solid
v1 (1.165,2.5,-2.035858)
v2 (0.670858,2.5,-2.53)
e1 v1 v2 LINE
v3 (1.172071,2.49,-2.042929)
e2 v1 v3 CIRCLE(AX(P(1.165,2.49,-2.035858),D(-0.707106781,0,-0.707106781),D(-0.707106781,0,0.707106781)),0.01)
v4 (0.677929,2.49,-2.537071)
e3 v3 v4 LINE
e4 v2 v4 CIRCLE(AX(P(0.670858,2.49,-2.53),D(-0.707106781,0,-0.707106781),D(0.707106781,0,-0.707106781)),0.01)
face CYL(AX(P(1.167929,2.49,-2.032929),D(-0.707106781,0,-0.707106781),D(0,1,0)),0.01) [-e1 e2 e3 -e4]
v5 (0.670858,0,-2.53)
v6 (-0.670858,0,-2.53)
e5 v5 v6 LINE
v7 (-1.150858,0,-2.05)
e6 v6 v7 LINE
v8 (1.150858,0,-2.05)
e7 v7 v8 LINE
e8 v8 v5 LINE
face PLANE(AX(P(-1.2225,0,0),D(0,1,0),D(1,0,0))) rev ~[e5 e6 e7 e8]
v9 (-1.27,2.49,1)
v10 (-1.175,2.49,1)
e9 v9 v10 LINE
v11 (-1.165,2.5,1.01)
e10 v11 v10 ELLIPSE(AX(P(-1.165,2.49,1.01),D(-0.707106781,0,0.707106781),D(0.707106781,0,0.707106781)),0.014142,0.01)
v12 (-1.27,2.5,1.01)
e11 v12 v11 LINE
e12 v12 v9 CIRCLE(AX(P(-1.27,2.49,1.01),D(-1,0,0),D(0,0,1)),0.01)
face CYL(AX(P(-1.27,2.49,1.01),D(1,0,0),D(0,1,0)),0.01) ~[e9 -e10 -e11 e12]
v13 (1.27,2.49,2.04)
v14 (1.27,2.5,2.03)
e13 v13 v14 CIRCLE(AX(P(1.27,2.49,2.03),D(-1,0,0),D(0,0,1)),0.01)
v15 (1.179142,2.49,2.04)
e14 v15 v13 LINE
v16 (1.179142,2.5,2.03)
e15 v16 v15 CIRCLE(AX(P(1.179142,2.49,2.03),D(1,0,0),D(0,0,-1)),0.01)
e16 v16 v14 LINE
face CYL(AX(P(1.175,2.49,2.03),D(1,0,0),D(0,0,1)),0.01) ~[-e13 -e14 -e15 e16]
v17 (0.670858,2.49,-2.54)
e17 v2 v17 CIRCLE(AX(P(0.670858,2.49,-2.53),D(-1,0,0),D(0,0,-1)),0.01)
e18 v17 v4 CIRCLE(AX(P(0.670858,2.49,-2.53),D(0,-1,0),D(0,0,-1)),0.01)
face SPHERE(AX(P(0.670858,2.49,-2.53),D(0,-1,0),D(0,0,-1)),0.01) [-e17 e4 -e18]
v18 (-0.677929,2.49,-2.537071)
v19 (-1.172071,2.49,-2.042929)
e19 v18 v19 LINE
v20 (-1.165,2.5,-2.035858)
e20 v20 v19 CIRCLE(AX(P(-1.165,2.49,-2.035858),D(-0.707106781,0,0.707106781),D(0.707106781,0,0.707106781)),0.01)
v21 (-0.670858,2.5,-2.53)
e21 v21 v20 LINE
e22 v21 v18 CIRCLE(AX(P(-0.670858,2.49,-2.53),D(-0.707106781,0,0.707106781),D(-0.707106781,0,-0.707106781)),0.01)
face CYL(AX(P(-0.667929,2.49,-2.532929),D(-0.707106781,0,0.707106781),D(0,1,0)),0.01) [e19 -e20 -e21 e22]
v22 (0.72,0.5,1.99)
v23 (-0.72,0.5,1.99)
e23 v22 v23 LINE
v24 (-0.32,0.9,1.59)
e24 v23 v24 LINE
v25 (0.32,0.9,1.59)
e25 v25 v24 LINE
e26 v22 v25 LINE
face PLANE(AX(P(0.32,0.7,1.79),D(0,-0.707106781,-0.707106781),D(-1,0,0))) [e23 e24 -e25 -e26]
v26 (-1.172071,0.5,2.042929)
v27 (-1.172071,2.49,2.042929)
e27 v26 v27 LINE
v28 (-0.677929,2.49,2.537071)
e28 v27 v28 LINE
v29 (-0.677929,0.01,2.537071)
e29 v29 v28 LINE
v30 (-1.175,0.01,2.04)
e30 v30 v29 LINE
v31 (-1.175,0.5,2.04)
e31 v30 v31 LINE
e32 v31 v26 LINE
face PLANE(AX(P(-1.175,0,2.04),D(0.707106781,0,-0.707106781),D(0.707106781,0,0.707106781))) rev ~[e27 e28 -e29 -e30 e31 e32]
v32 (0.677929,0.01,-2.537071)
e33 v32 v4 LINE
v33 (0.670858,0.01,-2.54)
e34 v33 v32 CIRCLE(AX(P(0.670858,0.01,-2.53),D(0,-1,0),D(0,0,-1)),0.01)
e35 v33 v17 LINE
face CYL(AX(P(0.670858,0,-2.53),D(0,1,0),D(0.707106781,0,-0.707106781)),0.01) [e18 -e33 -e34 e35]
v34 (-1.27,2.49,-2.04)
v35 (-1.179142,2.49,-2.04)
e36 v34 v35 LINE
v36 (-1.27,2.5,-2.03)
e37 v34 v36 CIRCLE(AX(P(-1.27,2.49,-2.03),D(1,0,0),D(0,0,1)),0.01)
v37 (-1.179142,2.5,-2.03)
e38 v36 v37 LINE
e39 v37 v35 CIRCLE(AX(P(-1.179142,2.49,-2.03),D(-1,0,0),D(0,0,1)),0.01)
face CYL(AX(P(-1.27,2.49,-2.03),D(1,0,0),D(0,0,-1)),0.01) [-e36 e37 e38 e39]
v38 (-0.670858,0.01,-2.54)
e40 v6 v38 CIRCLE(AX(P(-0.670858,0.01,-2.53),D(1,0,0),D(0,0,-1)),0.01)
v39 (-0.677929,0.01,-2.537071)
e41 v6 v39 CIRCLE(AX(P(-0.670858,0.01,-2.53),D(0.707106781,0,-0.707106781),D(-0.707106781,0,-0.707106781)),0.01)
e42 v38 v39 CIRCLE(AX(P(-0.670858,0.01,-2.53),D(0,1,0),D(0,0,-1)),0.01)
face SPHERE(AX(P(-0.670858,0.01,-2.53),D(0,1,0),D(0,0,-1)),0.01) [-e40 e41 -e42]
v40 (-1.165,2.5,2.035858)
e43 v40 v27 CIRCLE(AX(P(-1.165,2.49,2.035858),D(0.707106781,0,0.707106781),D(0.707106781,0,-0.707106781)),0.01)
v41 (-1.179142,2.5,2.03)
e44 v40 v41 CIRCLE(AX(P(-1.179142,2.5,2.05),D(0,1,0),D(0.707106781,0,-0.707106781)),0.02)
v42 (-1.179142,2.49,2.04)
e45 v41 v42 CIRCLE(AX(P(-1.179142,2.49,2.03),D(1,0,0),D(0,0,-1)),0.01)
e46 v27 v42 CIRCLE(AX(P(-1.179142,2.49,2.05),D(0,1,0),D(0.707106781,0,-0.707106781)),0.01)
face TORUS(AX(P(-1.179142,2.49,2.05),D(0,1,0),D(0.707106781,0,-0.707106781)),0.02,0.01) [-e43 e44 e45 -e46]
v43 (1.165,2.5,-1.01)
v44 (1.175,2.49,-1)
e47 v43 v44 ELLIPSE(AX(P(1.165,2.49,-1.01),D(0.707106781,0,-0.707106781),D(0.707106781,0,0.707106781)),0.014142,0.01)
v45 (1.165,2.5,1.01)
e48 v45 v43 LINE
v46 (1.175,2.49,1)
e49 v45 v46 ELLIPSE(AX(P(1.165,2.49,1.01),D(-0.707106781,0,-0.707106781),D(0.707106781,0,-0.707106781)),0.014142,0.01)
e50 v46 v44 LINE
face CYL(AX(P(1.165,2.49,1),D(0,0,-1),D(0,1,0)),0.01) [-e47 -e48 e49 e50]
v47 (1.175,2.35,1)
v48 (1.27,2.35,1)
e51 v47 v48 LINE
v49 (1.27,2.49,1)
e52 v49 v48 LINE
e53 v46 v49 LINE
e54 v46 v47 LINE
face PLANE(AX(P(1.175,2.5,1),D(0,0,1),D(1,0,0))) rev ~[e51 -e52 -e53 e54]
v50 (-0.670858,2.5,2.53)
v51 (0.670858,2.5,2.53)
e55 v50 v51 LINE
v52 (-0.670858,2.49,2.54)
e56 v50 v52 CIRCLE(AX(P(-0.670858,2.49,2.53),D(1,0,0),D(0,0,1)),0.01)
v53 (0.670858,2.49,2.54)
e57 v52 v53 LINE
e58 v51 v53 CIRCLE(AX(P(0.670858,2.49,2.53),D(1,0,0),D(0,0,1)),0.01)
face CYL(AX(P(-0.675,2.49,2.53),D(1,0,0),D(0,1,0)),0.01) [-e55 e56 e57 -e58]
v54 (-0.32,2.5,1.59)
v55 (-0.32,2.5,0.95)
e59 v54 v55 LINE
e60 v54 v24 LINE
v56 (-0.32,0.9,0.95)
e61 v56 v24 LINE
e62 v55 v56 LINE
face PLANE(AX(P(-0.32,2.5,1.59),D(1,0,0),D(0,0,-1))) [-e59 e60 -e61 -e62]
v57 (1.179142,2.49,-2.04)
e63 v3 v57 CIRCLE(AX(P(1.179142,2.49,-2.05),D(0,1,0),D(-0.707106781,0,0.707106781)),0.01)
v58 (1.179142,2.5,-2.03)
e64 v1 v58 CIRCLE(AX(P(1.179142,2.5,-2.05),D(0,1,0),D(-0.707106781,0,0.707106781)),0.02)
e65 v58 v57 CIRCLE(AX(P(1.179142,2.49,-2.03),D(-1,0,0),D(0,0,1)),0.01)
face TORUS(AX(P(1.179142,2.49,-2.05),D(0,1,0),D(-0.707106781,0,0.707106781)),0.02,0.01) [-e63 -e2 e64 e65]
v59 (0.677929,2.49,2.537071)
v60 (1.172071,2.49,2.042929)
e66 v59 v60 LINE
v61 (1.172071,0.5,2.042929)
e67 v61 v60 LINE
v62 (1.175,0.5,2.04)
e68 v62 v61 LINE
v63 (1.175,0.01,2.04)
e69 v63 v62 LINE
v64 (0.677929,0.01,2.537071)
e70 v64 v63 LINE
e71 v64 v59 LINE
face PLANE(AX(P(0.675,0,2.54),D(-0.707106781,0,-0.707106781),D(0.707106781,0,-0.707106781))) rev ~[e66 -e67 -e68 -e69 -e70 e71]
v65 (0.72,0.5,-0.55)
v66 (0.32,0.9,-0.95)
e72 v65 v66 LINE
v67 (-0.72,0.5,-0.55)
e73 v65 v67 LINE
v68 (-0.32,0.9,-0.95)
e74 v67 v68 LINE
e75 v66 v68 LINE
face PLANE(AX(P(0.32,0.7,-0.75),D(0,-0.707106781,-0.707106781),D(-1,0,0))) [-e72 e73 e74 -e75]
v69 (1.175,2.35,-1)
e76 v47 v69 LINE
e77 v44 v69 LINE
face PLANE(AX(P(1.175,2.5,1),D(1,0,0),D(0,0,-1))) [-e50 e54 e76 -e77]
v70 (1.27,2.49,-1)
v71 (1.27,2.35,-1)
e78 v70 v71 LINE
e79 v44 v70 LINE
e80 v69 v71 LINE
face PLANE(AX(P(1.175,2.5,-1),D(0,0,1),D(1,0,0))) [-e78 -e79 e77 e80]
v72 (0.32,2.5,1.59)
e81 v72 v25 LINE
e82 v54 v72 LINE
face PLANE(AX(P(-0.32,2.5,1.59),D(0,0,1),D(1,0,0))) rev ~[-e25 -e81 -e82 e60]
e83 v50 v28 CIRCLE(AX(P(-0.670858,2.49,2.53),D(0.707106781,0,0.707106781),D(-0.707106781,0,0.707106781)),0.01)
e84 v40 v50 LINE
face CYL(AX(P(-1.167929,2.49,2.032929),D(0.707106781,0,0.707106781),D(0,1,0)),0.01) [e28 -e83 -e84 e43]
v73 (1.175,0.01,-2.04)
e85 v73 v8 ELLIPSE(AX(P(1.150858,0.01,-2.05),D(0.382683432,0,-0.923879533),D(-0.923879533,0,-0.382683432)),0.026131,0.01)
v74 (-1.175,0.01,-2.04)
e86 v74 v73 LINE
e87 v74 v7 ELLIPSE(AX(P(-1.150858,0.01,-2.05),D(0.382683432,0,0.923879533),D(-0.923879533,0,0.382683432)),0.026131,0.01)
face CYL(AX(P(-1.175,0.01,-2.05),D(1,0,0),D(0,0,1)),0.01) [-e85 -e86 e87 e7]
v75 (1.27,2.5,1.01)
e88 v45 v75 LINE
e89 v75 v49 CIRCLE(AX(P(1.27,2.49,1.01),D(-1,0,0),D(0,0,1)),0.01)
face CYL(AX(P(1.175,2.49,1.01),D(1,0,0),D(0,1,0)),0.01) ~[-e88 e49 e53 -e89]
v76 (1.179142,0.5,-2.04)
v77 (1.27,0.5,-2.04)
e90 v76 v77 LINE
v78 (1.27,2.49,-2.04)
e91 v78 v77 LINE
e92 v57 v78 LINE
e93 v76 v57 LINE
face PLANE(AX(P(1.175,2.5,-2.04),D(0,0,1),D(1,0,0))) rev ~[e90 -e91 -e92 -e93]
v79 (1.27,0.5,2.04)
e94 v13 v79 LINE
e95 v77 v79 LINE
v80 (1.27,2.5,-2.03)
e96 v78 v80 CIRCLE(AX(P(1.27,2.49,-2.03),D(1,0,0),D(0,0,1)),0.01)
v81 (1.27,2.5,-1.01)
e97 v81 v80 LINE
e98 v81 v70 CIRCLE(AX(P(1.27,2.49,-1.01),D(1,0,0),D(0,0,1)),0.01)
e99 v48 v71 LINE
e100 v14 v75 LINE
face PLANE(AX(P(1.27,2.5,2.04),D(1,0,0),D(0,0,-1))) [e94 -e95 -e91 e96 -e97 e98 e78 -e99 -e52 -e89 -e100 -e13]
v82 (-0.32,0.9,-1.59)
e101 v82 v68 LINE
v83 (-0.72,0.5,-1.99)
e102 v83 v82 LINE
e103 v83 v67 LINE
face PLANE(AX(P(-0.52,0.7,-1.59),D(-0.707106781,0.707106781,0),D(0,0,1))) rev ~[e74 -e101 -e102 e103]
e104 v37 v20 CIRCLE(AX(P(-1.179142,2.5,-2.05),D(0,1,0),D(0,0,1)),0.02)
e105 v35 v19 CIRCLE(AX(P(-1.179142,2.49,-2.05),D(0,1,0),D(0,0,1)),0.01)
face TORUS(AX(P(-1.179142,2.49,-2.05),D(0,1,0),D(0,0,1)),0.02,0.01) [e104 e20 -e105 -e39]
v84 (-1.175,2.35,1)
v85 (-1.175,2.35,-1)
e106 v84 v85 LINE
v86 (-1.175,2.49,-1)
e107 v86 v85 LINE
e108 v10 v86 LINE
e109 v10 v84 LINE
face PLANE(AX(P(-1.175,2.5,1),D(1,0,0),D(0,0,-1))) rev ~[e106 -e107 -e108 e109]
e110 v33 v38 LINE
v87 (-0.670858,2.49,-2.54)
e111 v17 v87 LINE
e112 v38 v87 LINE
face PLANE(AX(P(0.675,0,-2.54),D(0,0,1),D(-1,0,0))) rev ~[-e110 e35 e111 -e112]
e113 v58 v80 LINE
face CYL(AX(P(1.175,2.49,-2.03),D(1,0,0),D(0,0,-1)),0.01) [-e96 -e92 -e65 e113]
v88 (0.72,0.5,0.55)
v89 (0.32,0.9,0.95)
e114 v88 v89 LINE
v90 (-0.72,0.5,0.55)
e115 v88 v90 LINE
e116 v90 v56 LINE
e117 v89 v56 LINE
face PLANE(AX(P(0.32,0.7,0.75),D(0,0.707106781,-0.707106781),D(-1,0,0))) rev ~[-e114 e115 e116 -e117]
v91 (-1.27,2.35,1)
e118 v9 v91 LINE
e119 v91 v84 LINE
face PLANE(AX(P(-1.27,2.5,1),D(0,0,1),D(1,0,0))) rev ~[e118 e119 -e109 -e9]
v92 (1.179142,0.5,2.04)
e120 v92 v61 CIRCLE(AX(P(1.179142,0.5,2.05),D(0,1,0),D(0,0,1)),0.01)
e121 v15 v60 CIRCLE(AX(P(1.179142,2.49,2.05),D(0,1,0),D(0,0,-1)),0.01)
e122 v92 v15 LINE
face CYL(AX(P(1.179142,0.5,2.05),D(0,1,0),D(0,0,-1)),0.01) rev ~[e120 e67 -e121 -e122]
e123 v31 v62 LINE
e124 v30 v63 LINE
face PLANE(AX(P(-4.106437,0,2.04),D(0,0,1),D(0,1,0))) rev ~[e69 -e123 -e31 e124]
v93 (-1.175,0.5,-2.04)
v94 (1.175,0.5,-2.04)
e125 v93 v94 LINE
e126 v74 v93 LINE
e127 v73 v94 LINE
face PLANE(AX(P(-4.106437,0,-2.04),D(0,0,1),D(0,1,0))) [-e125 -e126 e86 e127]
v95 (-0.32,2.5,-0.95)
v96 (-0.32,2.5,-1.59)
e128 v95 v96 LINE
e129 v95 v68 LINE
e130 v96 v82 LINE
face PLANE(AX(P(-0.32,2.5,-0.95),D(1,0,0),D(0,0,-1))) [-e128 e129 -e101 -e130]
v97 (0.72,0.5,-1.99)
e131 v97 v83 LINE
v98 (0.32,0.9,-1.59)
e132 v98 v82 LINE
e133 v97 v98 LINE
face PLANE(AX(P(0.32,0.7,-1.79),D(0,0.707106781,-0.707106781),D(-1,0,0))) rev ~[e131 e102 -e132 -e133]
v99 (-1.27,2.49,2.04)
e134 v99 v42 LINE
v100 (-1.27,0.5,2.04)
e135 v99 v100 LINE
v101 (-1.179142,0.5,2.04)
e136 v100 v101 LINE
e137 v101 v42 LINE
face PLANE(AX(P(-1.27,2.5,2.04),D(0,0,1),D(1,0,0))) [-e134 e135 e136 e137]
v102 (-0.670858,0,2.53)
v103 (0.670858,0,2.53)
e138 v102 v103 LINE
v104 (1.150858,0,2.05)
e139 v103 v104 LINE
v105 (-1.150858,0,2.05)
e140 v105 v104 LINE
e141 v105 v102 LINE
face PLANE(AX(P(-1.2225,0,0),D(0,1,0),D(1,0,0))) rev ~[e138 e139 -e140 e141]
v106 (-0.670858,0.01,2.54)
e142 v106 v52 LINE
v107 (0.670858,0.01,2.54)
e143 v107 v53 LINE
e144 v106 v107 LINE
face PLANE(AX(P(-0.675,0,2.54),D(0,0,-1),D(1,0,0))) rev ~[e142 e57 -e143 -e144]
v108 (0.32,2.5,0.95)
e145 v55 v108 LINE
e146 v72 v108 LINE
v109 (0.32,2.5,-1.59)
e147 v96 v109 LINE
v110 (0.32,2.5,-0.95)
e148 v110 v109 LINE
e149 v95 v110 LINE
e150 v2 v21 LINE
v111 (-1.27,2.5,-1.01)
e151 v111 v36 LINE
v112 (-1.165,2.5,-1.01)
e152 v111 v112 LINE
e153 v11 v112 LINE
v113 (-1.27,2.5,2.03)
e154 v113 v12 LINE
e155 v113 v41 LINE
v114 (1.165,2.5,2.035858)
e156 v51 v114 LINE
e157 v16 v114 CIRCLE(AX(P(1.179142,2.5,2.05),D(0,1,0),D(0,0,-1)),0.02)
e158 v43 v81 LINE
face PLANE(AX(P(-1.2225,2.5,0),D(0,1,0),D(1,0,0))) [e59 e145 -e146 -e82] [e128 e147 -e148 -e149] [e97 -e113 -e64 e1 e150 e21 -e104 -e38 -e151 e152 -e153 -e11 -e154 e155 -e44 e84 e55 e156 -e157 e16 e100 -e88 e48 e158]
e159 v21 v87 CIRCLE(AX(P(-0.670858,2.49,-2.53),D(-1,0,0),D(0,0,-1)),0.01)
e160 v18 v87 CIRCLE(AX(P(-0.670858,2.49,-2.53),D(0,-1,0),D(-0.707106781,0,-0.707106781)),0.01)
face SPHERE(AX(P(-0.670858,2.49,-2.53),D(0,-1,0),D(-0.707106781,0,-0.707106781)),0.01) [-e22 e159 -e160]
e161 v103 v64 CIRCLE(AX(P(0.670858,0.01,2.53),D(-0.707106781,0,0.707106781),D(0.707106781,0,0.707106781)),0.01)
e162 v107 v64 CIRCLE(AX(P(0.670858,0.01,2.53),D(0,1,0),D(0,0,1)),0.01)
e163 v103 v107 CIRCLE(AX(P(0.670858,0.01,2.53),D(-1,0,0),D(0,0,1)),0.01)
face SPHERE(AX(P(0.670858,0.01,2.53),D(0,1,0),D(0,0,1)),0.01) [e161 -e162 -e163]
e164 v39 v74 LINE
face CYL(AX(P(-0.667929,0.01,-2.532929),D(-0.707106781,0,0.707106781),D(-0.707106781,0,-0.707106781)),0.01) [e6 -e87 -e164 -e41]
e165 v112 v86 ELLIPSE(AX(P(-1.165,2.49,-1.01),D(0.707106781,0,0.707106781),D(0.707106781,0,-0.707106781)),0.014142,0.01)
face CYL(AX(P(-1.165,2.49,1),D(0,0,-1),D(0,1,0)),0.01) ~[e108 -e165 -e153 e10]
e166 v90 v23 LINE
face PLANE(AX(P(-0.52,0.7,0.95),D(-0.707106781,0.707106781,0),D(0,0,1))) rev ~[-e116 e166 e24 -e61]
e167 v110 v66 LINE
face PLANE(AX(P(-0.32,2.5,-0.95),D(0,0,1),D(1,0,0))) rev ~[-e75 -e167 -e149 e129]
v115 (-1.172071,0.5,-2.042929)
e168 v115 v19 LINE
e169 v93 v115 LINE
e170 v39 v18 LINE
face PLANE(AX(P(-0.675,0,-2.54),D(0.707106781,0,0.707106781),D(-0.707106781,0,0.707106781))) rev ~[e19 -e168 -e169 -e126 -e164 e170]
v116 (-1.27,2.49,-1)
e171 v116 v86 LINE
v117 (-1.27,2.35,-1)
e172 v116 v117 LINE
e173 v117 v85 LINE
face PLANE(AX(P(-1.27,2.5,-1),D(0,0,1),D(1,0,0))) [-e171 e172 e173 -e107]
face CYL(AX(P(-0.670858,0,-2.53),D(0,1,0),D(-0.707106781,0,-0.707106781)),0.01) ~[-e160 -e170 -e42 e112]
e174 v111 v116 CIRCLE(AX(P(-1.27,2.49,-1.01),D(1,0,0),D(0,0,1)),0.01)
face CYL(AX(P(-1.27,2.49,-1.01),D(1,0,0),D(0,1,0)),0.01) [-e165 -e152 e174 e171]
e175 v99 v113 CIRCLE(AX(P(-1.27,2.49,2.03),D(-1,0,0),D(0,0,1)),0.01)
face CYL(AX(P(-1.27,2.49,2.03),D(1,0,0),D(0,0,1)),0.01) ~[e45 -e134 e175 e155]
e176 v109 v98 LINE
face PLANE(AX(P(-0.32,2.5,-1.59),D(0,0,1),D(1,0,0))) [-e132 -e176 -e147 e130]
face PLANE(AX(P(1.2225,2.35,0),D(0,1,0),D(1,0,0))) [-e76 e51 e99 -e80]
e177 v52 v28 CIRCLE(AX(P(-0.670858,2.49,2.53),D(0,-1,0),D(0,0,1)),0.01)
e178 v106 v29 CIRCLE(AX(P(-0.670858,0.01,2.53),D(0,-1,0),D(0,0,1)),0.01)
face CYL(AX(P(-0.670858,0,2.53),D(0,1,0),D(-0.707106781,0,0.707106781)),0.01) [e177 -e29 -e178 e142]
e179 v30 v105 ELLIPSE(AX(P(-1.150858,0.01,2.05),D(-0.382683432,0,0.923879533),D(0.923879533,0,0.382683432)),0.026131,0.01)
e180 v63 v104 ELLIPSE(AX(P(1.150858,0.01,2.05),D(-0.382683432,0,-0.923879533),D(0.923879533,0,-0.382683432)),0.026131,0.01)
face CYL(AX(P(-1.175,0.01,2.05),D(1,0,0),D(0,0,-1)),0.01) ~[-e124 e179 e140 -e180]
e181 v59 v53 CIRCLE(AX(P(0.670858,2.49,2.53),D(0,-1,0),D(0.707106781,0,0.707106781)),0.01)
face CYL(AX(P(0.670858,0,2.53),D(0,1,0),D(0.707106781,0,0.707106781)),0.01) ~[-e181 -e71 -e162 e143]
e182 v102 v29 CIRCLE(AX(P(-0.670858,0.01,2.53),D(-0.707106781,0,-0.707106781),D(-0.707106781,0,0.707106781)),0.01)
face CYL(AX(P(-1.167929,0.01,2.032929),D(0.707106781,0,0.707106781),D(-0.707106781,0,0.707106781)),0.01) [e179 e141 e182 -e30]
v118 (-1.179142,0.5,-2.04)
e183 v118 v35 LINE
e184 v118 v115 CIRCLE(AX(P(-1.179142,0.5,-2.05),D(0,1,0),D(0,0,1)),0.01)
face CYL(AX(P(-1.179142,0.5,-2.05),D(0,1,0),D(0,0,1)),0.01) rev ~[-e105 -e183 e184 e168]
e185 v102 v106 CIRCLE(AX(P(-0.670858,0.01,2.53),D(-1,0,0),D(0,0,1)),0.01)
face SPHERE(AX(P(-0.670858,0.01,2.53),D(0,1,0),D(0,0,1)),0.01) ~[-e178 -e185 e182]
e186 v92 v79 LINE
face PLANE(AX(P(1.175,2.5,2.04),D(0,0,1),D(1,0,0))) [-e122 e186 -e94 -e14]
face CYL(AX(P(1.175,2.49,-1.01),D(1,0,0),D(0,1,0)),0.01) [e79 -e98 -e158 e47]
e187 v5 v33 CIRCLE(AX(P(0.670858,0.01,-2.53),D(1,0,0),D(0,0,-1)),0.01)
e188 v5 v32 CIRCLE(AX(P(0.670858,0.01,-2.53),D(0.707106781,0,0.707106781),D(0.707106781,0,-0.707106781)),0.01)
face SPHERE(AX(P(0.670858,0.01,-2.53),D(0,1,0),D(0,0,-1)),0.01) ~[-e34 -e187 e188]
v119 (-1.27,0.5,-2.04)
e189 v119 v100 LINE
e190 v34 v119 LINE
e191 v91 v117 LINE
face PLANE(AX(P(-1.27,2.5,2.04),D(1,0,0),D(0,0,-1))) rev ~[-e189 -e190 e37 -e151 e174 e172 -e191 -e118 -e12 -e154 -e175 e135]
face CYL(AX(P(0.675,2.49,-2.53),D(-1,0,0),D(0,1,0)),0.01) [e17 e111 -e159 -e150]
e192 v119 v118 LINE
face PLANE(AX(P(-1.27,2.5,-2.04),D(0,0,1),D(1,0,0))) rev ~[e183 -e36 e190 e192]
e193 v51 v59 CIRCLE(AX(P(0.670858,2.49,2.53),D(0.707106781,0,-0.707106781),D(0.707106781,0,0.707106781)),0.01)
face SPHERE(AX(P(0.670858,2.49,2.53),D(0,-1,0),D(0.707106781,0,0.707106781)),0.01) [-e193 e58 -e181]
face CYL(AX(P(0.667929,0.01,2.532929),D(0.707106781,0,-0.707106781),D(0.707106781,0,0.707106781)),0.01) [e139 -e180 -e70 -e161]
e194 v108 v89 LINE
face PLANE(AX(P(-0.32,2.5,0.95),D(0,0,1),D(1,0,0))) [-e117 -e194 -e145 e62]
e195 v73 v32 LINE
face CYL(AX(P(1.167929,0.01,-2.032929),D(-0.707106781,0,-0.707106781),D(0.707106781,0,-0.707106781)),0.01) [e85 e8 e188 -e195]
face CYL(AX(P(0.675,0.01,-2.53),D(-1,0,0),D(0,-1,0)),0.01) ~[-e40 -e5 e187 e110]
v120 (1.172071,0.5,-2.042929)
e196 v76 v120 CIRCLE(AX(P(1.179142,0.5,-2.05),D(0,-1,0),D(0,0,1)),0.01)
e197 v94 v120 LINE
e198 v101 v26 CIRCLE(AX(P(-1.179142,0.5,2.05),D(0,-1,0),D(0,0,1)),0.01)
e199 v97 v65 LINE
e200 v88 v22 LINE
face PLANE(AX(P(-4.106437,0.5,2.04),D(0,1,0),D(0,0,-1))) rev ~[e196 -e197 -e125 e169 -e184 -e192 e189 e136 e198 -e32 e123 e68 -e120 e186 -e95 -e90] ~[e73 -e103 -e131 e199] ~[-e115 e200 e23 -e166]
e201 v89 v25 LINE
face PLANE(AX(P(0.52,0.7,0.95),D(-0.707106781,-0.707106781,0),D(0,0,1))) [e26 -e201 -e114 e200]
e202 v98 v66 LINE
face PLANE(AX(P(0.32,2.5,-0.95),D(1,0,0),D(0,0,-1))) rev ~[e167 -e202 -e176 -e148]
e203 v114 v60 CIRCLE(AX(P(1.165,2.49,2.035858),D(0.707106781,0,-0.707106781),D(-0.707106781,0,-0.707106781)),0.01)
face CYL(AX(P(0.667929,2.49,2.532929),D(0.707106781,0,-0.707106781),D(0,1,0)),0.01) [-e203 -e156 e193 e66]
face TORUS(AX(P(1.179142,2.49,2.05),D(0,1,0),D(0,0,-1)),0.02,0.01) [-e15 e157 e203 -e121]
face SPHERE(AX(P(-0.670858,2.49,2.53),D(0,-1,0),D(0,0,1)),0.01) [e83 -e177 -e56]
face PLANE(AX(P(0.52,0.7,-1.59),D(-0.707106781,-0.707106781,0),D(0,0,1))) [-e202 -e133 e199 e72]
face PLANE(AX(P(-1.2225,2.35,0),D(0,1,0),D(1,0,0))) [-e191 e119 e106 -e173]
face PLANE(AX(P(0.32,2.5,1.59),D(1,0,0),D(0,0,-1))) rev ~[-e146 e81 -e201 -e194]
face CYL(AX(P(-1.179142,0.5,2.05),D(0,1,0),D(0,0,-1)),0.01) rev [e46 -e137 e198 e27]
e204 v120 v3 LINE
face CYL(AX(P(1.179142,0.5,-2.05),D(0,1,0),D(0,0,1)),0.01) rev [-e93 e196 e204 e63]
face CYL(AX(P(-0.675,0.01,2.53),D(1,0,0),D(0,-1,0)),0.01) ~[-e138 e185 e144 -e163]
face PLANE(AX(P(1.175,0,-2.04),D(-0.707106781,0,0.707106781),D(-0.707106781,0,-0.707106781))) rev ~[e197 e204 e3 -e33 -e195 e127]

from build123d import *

# Parameters (mm, degrees)
BOSS_EXTRUDE1_DEPTH     = 2.5
SKETCH7_W               = 0.64
SKETCH7_H               = 0.64
CUT_EXTRUDE1_DEPTH      = 4.752629078
SKETCH8_W               = 0.095
SKETCH8_H               = 4.08
BOSS_EXTRUDE2_DEPTH     = 2.5
SKETCH9_W               = 0.095
SKETCH9_H               = 2
CUT_EXTRUDE2_DEPTH      = 0.15
CUT_EXTRUDE3_DEPTH      = 5.376436907
CUT_EXTRUDE3_DEPTH_BACK = 5.376436907
SKETCH12_W              = 4.08
SKETCH12_H              = 0.5
CHAMFER1_SIZE           = 0.4
FILLET1_R               = 0.01


with BuildPart() as part:
    # Sketch5 → Boss-Extrude1 (new body)
    with BuildSketch(Plane(origin=(0, 0, 0), x_dir=(1, 0, 0), z_dir=(0, 1, 0))):
        Polygon((-0.675, 2.54), (-1.175, 2.04), (-1.175, -2.04), (-0.675, -2.54), (0.675, -2.54), (1.175, -2.04), (1.175, 2.04), (0.675, 2.54), align=None)
    extrude(amount=BOSS_EXTRUDE1_DEPTH)

    # Sketch7 → Cut-Extrude1 (cut, through all)
    with BuildSketch(Plane(origin=(0, 2.5, 0), x_dir=(1, 0, 0), z_dir=(0, 1, 0))):
        with Locations((0, 1.27)):
            Rectangle(SKETCH7_W, SKETCH7_H)
        with Locations((0, -1.27)):
            Rectangle(SKETCH7_W, SKETCH7_H)
    extrude(amount=-CUT_EXTRUDE1_DEPTH, mode=Mode.SUBTRACT)

    # Sketch8 → Boss-Extrude2 (add)
    with BuildSketch(Plane(origin=(0, 2.5, 0), x_dir=(1, 0, 0), z_dir=(0, 1, 0))):
        with Locations((-1.2225, 0)):
            Rectangle(SKETCH8_W, SKETCH8_H)
        with Locations((1.2225, 0)):
            Rectangle(SKETCH8_W, SKETCH8_H)
    extrude(amount=-BOSS_EXTRUDE2_DEPTH)

    # Sketch9 → Cut-Extrude2 (cut)
    with BuildSketch(Plane(origin=(0, 2.5, 0), x_dir=(1, 0, 0), z_dir=(0, 1, 0))):
        with Locations((-1.2225, 0)):
            Rectangle(SKETCH9_W, SKETCH9_H)
        with Locations((1.2225, 0)):
            Rectangle(SKETCH9_W, SKETCH9_H)
    extrude(amount=-CUT_EXTRUDE2_DEPTH, mode=Mode.SUBTRACT)

    # Sketch12 → Cut-Extrude3 (cut, two sides: drawn at the far end of the back side and taken through both)
    with BuildSketch(Plane(origin=(1.27, 0, 0), x_dir=(0, 0, -1), z_dir=(1, 0, 0)).offset(-CUT_EXTRUDE3_DEPTH_BACK)):
        with Locations((0, 0.25)):
            Rectangle(SKETCH12_W, SKETCH12_H)
    extrude(amount=CUT_EXTRUDE3_DEPTH + CUT_EXTRUDE3_DEPTH_BACK, mode=Mode.SUBTRACT)

    # Chamfer1
    chamfer1_edges = [part.edges().sort_by_distance(p)[0] for p in [
        (0, 0.5, -1.59),
        (0.32, 0.5, -1.27),
        (0, 0.5, -0.95),
        (-0.32, 0.5, -1.27),
        (0, 0.5, 1.59),
        (-0.32, 0.5, 1.27),
        (0, 0.5, 0.95),
        (0.32, 0.5, 1.27),
    ]]
    chamfer(chamfer1_edges, length=CHAMFER1_SIZE)

    # Fillet1
    fillet1_edges = [part.edges().sort_by_distance(p)[0] for p in [
        (-1.2225, 2.5, -2.04),
        (-0.925, 2.5, -2.29),
        (0, 0, -2.54),
        (0, 2.5, -2.54),
        (0.925, 2.5, -2.29),
        (1.2225, 2.5, -2.04),
        (1.2225, 2.5, -1),
        (1.175, 2.5, 0),
        (1.2225, 2.5, 1),
        (1.2225, 2.5, 2.04),
        (0.925, 2.5, 2.29),
        (0, 0, 2.54),
        (0, 2.5, 2.54),
        (-0.925, 2.5, 2.29),
        (-1.2225, 2.5, 2.04),
        (-1.2225, 2.5, 1),
        (-1.175, 2.5, 0),
        (-1.2225, 2.5, -1),
        (0.925, 0, -2.29),
        (-0.925, 0, -2.29),
        (0, 0, -2.04),
        (-0.925, 0, 2.29),
        (0.925, 0, 2.29),
        (0, 0, 2.04),
        (0.675, 1.25, -2.54),
        (-0.675, 1.25, -2.54),
        (-0.675, 1.25, 2.54),
        (0.675, 1.25, 2.54),
        (-1.175, 1.5, -2.04),
        (-1.175, 1.5, 2.04),
        (1.175, 1.5, -2.04),
        (1.175, 1.5, 2.04),
    ]]
    fillet(fillet1_edges, radius=FILLET1_R)


solid = part.part
